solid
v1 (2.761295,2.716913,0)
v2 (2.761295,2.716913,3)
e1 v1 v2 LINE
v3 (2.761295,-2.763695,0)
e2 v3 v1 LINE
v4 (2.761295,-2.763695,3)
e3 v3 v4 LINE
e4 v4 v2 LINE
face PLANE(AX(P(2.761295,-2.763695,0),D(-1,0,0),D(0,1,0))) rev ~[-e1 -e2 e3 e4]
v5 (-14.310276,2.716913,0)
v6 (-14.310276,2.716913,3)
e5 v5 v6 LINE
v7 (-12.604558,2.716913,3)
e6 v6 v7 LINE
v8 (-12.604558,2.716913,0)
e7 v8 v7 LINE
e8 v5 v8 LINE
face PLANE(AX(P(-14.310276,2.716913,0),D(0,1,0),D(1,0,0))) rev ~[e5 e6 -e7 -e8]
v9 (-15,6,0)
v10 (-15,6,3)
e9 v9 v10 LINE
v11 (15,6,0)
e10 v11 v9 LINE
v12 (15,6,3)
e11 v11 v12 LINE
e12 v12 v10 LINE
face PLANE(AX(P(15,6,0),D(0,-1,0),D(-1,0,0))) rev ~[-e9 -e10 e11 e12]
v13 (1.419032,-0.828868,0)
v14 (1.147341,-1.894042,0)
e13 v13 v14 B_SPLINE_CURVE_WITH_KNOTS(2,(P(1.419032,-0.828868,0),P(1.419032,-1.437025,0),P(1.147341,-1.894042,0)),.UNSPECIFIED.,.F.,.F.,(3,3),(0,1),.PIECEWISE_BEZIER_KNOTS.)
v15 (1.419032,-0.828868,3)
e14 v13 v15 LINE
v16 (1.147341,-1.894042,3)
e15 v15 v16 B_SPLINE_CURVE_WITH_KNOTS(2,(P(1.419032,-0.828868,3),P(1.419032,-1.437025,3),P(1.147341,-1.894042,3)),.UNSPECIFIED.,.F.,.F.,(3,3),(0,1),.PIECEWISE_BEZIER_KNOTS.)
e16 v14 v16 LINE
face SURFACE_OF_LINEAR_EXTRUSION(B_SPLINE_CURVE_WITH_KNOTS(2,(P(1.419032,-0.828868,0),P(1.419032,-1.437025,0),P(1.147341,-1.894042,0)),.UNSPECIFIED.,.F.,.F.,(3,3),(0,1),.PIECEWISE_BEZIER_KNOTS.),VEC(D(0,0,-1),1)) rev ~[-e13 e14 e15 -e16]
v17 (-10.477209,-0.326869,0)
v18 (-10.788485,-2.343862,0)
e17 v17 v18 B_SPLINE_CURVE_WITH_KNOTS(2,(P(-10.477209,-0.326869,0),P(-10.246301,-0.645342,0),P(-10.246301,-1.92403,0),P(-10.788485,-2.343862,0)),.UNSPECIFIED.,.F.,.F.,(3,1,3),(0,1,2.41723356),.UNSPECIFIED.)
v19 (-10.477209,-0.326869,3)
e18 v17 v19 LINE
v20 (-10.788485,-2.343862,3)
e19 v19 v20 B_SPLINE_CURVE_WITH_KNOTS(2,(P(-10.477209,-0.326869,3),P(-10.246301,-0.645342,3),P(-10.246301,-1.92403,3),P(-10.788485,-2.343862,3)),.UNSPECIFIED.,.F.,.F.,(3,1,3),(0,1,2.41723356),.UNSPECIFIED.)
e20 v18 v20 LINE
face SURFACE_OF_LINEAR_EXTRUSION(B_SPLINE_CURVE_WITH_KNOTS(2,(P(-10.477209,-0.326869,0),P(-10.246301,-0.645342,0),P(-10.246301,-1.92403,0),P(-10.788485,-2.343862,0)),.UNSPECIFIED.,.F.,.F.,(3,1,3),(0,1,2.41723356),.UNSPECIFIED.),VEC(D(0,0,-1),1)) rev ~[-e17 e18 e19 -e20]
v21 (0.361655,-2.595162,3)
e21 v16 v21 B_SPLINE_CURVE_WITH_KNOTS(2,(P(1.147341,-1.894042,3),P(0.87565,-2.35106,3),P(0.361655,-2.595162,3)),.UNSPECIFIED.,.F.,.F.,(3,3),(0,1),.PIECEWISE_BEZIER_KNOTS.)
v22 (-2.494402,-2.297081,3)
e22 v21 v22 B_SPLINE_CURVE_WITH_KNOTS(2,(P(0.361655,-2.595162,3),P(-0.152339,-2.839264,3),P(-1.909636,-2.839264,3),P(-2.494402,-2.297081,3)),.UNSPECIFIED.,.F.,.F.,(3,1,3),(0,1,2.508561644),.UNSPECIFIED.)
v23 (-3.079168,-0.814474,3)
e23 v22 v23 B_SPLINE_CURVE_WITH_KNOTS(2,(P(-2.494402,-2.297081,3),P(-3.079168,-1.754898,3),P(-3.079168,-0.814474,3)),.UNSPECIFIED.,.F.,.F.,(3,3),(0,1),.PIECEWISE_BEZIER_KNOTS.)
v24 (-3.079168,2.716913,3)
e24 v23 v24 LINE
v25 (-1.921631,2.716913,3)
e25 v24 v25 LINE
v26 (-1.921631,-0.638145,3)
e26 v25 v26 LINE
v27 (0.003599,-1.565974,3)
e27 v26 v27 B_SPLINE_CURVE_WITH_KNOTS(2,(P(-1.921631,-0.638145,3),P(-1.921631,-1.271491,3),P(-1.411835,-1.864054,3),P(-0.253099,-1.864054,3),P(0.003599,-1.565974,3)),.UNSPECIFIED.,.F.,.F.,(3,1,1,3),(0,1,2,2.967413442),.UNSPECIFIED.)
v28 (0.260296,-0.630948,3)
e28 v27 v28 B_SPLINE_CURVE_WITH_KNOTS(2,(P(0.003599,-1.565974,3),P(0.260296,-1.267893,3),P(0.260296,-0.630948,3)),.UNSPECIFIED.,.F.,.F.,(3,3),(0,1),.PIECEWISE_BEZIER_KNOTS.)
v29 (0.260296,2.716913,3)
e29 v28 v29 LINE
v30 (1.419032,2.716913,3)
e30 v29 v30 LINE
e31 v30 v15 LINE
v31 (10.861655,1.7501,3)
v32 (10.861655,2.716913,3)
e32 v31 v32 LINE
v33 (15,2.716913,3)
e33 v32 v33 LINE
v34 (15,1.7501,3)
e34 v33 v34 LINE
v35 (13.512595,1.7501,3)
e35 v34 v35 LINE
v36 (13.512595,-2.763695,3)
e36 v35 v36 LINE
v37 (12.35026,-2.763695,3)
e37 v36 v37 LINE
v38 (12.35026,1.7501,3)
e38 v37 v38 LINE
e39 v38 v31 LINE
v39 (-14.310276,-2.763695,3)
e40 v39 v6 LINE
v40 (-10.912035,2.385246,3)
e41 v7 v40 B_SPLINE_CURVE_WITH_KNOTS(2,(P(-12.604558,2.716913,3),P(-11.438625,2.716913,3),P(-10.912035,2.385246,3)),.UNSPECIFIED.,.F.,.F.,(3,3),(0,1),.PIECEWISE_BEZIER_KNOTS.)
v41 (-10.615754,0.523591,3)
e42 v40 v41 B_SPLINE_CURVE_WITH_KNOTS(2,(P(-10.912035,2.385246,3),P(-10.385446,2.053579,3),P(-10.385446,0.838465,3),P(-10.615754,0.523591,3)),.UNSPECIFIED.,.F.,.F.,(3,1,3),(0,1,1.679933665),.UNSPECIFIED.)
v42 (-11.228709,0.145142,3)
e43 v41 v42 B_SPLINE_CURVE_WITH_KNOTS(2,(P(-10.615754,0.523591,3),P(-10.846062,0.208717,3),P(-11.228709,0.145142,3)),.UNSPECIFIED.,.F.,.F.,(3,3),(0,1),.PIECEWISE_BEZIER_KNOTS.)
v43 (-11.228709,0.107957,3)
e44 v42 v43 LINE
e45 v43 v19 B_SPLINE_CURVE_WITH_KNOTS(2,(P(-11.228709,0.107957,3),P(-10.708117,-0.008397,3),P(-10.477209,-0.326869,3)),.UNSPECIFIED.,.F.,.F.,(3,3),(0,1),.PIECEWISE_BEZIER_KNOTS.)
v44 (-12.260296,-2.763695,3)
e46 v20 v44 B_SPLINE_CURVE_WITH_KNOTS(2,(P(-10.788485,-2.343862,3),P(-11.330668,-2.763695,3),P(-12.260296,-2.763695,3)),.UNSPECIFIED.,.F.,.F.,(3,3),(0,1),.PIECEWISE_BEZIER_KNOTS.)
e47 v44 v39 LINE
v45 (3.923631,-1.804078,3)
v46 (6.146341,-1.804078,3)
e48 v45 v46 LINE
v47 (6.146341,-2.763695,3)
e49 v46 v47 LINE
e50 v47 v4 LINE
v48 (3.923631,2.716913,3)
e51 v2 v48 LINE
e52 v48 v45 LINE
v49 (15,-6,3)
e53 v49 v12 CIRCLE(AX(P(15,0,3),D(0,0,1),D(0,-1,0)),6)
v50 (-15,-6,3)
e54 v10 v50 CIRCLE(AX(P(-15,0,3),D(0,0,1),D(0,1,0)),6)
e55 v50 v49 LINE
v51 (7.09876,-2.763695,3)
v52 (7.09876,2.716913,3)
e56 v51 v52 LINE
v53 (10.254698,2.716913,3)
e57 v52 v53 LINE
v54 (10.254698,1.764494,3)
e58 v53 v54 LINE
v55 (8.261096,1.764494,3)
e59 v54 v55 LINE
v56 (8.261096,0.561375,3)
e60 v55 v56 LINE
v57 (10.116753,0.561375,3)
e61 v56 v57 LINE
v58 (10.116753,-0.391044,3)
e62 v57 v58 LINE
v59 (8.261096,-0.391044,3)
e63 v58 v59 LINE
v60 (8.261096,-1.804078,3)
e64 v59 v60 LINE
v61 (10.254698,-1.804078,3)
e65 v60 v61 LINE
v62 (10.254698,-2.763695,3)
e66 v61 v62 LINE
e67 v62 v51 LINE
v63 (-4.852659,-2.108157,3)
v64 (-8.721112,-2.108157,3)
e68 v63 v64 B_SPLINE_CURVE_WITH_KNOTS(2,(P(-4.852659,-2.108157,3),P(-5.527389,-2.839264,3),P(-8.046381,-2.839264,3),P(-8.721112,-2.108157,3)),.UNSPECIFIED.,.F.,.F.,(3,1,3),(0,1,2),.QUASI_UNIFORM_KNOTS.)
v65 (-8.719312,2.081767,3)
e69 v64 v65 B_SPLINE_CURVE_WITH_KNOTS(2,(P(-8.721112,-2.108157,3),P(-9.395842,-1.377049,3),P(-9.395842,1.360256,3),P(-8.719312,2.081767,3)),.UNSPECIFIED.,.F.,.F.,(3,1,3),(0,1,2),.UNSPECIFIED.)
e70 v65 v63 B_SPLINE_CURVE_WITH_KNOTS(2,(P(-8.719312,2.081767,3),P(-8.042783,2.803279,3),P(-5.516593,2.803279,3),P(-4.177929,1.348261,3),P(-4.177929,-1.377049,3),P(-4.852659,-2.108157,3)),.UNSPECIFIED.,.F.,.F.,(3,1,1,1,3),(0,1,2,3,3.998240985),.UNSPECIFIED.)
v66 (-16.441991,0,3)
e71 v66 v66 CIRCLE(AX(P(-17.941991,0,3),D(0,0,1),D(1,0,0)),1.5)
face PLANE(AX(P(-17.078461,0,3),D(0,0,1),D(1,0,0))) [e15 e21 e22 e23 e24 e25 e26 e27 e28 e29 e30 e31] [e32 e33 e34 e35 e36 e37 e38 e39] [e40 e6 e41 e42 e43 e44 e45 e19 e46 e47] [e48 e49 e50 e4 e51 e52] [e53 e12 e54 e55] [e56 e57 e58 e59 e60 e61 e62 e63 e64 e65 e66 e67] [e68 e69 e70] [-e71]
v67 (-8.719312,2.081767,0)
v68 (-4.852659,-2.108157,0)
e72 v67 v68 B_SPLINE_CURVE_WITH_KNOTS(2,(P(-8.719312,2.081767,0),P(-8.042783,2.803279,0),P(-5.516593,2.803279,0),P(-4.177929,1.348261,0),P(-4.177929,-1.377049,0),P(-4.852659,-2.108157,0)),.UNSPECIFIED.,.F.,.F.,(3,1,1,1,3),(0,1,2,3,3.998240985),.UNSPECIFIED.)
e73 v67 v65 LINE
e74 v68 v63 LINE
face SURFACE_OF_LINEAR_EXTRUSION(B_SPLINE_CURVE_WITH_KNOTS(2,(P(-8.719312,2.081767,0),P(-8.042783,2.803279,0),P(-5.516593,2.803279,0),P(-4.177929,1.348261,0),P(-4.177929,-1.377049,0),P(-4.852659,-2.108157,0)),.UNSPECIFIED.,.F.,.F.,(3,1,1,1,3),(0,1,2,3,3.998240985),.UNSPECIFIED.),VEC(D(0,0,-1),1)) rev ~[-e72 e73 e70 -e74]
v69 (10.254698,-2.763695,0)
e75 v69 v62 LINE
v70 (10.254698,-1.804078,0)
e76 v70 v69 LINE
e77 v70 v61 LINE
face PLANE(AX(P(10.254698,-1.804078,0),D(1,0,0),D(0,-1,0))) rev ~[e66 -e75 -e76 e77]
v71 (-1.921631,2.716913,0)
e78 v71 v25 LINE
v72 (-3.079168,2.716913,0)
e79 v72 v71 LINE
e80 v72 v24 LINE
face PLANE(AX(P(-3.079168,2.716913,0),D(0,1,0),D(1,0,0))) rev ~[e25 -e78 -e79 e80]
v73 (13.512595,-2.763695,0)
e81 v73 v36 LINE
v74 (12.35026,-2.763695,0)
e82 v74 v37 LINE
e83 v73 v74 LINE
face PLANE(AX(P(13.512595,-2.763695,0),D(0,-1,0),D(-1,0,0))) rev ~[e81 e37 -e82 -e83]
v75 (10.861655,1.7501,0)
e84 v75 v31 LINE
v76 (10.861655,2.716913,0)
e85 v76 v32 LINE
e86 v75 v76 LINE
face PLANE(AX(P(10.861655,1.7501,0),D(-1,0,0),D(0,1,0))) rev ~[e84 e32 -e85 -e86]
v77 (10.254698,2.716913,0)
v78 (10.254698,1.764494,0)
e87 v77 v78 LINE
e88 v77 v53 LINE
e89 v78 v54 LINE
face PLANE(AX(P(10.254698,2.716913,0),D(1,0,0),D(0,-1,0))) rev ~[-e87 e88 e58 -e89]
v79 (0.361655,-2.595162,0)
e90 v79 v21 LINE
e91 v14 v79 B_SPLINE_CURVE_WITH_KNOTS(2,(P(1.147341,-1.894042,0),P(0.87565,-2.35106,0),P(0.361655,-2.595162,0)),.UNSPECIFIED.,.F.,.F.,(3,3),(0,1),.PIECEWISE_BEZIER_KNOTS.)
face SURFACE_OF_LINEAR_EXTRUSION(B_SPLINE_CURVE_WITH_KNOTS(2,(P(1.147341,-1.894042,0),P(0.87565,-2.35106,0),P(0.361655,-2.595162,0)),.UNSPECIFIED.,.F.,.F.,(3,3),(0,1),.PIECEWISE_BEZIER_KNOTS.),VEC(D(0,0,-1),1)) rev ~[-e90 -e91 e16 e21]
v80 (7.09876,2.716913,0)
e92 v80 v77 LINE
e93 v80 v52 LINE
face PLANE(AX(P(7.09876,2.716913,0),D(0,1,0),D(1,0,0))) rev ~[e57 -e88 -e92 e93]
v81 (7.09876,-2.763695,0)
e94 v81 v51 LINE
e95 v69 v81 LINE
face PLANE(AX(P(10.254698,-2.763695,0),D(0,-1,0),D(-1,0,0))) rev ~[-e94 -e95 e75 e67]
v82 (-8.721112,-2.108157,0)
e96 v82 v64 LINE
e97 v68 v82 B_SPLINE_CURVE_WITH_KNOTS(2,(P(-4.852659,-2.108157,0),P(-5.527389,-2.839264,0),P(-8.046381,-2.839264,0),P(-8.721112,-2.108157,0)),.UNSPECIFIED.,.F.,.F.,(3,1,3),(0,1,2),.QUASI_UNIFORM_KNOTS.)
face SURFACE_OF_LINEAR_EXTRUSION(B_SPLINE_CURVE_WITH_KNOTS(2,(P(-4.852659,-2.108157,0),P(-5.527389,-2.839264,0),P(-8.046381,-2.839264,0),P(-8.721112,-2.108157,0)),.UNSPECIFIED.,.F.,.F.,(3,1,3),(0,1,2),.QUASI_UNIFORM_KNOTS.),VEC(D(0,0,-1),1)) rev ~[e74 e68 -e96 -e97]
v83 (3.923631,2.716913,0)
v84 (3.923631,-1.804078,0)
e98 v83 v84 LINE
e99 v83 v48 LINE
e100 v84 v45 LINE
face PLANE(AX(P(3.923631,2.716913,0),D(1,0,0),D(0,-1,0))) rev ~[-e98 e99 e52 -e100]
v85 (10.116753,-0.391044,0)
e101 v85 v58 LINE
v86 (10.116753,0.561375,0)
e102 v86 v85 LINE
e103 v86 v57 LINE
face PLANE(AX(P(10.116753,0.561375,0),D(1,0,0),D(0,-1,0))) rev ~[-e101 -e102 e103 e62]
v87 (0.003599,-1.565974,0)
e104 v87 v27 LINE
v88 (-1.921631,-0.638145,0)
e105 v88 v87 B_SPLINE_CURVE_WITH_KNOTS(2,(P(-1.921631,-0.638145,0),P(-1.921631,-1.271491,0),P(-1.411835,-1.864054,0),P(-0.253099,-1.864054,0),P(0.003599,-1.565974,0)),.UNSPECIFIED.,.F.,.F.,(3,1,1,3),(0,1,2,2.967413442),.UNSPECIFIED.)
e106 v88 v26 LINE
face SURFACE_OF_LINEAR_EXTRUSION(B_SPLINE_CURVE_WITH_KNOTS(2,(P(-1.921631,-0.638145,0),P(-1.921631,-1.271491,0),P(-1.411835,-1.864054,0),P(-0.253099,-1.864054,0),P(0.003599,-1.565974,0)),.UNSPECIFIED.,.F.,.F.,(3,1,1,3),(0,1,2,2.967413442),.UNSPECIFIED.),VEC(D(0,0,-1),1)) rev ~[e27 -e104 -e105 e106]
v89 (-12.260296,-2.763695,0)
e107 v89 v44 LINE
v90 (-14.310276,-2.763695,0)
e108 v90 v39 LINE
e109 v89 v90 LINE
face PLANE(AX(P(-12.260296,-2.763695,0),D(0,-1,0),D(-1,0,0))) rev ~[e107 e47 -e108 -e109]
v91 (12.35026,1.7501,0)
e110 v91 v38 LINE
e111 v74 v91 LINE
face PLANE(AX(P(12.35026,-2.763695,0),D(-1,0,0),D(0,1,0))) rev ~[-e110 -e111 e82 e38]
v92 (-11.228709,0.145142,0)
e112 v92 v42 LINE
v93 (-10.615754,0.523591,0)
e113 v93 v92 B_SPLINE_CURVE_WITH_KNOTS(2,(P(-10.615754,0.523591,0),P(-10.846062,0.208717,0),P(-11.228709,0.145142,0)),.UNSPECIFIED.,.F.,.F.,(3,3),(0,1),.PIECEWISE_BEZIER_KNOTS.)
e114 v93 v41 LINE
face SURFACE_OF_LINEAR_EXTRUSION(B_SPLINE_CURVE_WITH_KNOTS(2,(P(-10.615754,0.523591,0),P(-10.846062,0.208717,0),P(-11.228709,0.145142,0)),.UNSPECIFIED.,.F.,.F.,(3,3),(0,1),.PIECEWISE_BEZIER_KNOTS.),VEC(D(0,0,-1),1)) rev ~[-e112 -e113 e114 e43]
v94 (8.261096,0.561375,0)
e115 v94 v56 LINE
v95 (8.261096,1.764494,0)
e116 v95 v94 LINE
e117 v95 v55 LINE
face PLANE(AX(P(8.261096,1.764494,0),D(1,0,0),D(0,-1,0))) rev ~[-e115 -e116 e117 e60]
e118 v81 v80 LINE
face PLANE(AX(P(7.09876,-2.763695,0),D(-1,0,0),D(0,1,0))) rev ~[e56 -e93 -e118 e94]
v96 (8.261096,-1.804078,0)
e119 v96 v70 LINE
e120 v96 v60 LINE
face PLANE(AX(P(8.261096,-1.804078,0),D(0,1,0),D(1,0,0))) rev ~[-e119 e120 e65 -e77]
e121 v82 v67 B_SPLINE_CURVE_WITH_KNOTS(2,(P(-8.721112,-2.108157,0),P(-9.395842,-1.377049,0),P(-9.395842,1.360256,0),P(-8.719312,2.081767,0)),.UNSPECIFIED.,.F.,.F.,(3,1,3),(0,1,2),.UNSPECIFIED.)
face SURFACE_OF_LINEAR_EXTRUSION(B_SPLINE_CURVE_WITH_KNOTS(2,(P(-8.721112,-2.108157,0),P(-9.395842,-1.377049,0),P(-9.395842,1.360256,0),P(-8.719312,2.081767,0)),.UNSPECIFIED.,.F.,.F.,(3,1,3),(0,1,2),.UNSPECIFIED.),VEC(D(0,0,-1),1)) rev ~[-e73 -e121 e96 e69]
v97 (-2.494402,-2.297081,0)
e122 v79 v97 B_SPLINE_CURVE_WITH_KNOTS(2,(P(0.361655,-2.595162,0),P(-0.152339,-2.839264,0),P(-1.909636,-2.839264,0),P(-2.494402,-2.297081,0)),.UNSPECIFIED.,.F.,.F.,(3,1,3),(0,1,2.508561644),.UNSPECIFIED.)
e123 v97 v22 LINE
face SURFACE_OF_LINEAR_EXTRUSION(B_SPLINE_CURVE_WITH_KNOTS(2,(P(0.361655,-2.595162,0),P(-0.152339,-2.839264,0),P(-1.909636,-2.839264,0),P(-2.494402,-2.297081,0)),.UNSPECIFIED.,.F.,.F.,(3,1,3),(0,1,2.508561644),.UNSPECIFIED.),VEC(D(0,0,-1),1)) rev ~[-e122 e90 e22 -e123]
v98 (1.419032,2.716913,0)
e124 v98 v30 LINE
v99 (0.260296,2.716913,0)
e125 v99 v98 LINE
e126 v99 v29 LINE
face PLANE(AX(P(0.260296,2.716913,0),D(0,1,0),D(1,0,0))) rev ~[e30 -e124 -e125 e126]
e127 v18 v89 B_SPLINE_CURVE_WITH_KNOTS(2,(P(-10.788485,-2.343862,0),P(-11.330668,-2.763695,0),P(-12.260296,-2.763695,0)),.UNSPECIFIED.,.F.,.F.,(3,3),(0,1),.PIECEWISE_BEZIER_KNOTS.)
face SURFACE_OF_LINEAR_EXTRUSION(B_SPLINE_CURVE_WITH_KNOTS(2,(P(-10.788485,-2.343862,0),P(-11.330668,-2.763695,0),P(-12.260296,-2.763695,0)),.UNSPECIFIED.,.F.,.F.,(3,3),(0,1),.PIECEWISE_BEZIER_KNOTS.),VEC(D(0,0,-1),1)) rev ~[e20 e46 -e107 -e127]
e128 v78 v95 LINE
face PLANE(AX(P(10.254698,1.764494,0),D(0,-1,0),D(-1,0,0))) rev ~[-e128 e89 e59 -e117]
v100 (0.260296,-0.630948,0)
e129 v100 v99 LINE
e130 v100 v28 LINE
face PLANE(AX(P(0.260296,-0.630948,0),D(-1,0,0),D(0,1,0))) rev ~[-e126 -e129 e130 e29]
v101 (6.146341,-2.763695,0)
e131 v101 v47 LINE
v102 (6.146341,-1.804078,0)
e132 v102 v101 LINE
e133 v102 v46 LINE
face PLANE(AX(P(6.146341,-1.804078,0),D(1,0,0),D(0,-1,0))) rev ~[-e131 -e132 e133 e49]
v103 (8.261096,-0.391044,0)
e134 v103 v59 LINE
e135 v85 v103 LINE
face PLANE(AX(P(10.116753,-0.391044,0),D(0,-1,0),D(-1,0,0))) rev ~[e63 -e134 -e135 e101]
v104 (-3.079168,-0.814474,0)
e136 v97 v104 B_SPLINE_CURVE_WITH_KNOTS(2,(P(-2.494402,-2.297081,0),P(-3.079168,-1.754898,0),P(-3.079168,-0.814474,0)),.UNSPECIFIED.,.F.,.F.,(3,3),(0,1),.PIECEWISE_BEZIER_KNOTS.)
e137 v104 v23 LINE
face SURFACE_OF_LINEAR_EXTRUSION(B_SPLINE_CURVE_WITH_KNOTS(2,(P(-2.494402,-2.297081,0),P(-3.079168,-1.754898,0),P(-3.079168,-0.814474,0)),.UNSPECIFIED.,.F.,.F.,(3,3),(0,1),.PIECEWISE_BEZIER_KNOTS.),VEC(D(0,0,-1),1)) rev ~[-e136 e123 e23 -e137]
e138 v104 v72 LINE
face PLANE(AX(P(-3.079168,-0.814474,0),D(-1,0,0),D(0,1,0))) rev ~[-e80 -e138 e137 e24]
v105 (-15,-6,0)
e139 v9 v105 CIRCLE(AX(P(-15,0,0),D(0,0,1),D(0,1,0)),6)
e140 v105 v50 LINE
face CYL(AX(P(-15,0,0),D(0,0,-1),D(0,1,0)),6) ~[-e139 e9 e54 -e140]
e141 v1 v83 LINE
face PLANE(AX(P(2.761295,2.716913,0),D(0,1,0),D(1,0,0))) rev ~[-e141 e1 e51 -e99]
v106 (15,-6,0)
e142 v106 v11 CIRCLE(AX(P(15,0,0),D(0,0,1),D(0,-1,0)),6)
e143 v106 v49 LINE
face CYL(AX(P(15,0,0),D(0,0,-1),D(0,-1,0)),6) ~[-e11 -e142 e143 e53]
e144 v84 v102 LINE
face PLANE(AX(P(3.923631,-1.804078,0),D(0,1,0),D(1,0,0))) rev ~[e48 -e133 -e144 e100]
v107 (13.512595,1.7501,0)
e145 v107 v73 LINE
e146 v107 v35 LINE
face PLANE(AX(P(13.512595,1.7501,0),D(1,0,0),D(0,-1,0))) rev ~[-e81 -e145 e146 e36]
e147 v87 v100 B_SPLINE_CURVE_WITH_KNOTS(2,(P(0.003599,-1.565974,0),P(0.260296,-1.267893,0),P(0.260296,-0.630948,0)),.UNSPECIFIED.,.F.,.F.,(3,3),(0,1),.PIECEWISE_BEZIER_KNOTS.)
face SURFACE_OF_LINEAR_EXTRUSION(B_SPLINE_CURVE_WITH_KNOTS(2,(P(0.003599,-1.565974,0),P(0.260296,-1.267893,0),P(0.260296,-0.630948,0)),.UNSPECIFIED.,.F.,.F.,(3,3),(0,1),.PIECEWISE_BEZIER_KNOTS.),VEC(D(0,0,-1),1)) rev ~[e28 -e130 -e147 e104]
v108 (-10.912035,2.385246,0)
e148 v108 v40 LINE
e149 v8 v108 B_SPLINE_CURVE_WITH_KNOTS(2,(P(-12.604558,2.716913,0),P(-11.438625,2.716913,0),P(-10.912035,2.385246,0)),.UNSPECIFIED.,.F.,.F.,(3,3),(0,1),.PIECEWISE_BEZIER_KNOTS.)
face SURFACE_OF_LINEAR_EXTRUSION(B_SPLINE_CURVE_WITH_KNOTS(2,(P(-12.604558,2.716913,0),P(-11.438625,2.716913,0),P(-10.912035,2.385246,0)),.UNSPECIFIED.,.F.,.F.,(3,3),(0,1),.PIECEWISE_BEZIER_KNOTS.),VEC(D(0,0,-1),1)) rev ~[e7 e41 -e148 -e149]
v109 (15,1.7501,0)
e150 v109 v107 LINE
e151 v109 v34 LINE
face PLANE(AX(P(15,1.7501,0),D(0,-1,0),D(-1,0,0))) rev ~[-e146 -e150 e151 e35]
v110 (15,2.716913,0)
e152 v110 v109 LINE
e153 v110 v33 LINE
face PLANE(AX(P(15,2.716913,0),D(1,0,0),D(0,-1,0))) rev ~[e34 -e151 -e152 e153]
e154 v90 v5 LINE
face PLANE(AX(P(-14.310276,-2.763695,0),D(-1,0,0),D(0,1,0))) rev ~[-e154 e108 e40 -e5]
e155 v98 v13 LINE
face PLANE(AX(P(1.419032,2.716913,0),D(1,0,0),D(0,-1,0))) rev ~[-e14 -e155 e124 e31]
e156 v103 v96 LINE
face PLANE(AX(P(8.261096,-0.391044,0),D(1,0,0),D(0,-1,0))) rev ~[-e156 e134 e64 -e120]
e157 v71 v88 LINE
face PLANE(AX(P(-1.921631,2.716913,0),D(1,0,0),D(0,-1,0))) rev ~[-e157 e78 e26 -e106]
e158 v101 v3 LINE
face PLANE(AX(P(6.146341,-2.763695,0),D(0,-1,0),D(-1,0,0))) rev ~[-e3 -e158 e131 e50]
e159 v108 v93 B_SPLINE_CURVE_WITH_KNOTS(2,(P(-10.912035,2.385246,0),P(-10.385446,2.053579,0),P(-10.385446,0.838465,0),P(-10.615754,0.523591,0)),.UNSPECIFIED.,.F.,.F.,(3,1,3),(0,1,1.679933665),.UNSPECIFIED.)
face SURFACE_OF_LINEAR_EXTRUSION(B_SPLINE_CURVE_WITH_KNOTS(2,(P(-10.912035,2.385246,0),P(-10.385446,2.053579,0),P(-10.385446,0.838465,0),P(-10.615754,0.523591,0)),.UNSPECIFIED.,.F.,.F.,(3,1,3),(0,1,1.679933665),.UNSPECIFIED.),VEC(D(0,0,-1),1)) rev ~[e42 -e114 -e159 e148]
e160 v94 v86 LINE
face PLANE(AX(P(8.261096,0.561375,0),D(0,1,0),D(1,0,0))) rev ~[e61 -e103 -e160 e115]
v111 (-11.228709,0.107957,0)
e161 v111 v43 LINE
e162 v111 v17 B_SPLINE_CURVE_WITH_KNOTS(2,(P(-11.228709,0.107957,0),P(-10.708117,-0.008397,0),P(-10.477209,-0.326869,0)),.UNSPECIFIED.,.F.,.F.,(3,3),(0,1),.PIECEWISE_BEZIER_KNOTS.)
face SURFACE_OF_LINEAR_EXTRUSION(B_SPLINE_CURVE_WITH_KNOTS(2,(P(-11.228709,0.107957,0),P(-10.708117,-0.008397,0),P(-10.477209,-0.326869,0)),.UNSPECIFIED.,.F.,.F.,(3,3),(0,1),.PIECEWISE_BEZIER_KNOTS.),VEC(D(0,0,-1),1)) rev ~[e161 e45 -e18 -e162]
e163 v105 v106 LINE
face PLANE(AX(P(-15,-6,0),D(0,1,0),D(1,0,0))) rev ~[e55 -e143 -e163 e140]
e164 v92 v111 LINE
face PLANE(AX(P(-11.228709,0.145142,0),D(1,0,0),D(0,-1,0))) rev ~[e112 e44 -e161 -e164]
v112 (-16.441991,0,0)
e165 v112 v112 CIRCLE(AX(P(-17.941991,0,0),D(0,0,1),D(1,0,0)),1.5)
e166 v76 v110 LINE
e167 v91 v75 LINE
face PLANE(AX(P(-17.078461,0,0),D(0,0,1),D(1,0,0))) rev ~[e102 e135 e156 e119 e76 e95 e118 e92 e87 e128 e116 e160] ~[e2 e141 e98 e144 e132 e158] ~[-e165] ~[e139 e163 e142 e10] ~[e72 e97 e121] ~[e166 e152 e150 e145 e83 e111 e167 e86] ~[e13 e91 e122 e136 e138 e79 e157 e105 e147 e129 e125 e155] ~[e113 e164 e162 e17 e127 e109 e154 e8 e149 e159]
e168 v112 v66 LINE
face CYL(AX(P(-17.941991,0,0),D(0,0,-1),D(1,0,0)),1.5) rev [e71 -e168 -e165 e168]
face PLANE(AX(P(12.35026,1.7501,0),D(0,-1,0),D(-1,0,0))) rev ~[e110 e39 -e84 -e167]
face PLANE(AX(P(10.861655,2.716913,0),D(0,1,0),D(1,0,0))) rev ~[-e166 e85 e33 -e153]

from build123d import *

# Parameters (mm, degrees)
F0_R     = 1.5
F1_DEPTH = 3


with BuildPart() as f1:
    # F0 (on Top) → F1 (new body)
    with BuildSketch(Plane.XY):
        with BuildLine():
            Line((-15, -6), (-15, 6))
            ThreePointArc((-15, 6), (-21, 0), (-15, -6))
        make_face()
        with Locations((-17.9419908673, 0)):
            Circle(F0_R, mode=Mode.SUBTRACT)
        Polygon((15, 6), (-15, 6), (-15, -6), (15, -6), (15, 1.75009996), (13.512594962, 1.75009996), (13.512594962, -2.7636945222), (12.350259896, -2.7636945222), (12.350259896, 1.75009996), (10.8616553379, 1.75009996), (10.8616553379, 2.7169132347), (15, 2.7169132347), align=None)
        with BuildLine():
            Line((-14.3102758896, -2.7636945222), (-14.3102758896, 2.7169132347))
            Line((-14.3102758896, 2.7169132347), (-12.6045581767, 2.7169132347))
            add(Edge.make_bspline(
                [(-12.6045581767, 2.7169132347), (-11.4386245502, 2.7169132347), (-10.9120351859, 2.3852459016)],
                knots=[0, 0, 0, 1, 1, 1], degree=2))
            add(Edge.make_bspline(
                [(-10.9120351859, 2.3852459016), (-10.3854458217, 2.0535785686), (-10.3854458217, 1.3302678928)],
                knots=[0, 0, 0, 1, 1, 1], degree=2))
            add(Edge.make_bspline(
                [(-10.3854458217, 1.3302678928), (-10.3854458217, 0.8384646142), (-10.6157536985, 0.5235905638)],
                knots=[0, 0, 0, 1, 1, 1], degree=2))
            add(Edge.make_bspline(
                [(-10.6157536985, 0.5235905638), (-10.8460615754, 0.2087165134), (-11.2287085166, 0.1451419432)],
                knots=[0, 0, 0, 1, 1, 1], degree=2))
            Line((-11.2287085166, 0.1451419432), (-11.2287085166, 0.1079568173))
            add(Edge.make_bspline(
                [(-11.2287085166, 0.1079568173), (-10.7081167533, -0.0083966413), (-10.4772091164, -0.3268692523)],
                knots=[0, 0, 0, 1, 1, 1], degree=2))
            add(Edge.make_bspline(
                [(-10.4772091164, -0.3268692523), (-10.2463014794, -0.6453418633), (-10.2463014794, -1.1743302679)],
                knots=[0, 0, 0, 1, 1, 1], degree=2))
            add(Edge.make_bspline(
                [(-10.2463014794, -1.1743302679), (-10.2463014794, -1.9240303878), (-10.7884846062, -2.343862455)],
                knots=[0, 0, 0, 1, 1, 1], degree=2))
            add(Edge.make_bspline(
                [(-10.7884846062, -2.343862455), (-11.3306677329, -2.7636945222), (-12.2602958816, -2.7636945222)],
                knots=[0, 0, 0, 1, 1, 1], degree=2))
            Line((-12.2602958816, -2.7636945222), (-14.3102758896, -2.7636945222))
        make_face(mode=Mode.SUBTRACT)
        with BuildLine():
            add(Edge.make_bspline(
                [(-4.8472610956, 2.0757696921), (-4.1779288285, 1.3482606957), (-4.1779288285, -0.0155937625)],
                knots=[0, 0, 0, 1, 1, 1], degree=2))
            add(Edge.make_bspline(
                [(-4.1779288285, -0.0155937625), (-4.1779288285, -1.3770491803), (-4.8526589364, -2.1081567373)],
                knots=[0, 0, 0, 1, 1, 1], degree=2))
            add(Edge.make_bspline(
                [(-4.8526589364, -2.1081567373), (-5.5273890444, -2.8392642943), (-6.7868852459, -2.8392642943)],
                knots=[0, 0, 0, 1, 1, 1], degree=2))
            add(Edge.make_bspline(
                [(-6.7868852459, -2.8392642943), (-8.0463814474, -2.8392642943), (-8.7211115554, -2.1081567373)],
                knots=[0, 0, 0, 1, 1, 1], degree=2))
            add(Edge.make_bspline(
                [(-8.7211115554, -2.1081567373), (-9.3958416633, -1.3770491803), (-9.3958416633, -0.0083966413)],
                knots=[0, 0, 0, 1, 1, 1], degree=2))
            add(Edge.make_bspline(
                [(-9.3958416633, -0.0083966413), (-9.3958416633, 1.3602558976), (-8.7193122751, 2.0817672931)],
                knots=[0, 0, 0, 1, 1, 1], degree=2))
            add(Edge.make_bspline(
                [(-8.7193122751, 2.0817672931), (-8.0427828868, 2.8032786885), (-6.7796881248, 2.8032786885)],
                knots=[0, 0, 0, 1, 1, 1], degree=2))
            add(Edge.make_bspline(
                [(-6.7796881248, 2.8032786885), (-5.5165933627, 2.8032786885), (-4.8472610956, 2.0757696921)],
                knots=[0, 0, 0, 1, 1, 1], degree=2))
        make_face(mode=Mode.SUBTRACT)
        with BuildLine():
            Line((0.2602958816, 2.7169132347), (1.419032387, 2.7169132347))
            Line((1.419032387, 2.7169132347), (1.419032387, -0.8288684526))
            add(Edge.make_bspline(
                [(1.419032387, -0.8288684526), (1.419032387, -1.4370251899), (1.1473410636, -1.894042383)],
                knots=[0, 0, 0, 1, 1, 1], degree=2))
            add(Edge.make_bspline(
                [(1.1473410636, -1.894042383), (0.8756497401, -2.3510595762), (0.3616553379, -2.5951619352)],
                knots=[0, 0, 0, 1, 1, 1], degree=2))
            add(Edge.make_bspline(
                [(0.3616553379, -2.5951619352), (-0.1523390644, -2.8392642943), (-0.8528588565, -2.8392642943)],
                knots=[0, 0, 0, 1, 1, 1], degree=2))
            add(Edge.make_bspline(
                [(-0.8528588565, -2.8392642943), (-1.9096361455, -2.8392642943), (-2.4944022391, -2.2970811675)],
                knots=[0, 0, 0, 1, 1, 1], degree=2))
            add(Edge.make_bspline(
                [(-2.4944022391, -2.2970811675), (-3.0791683327, -1.7548980408), (-3.0791683327, -0.8144742103)],
                knots=[0, 0, 0, 1, 1, 1], degree=2))
            Line((-3.0791683327, -0.8144742103), (-3.0791683327, 2.7169132347))
            Line((-3.0791683327, 2.7169132347), (-1.9216313475, 2.7169132347))
            Line((-1.9216313475, 2.7169132347), (-1.9216313475, -0.6381447421))
            add(Edge.make_bspline(
                [(-1.9216313475, -0.6381447421), (-1.9216313475, -1.2714914034), (-1.6667333067, -1.5677728908)],
                knots=[0, 0, 0, 1, 1, 1], degree=2))
            add(Edge.make_bspline(
                [(-1.6667333067, -1.5677728908), (-1.4118352659, -1.8640543782), (-0.8228708517, -1.8640543782)],
                knots=[0, 0, 0, 1, 1, 1], degree=2))
            add(Edge.make_bspline(
                [(-0.8228708517, -1.8640543782), (-0.2530987605, -1.8640543782), (0.0035985606, -1.5659736106)],
                knots=[0, 0, 0, 1, 1, 1], degree=2))
            add(Edge.make_bspline(
                [(0.0035985606, -1.5659736106), (0.2602958816, -1.2678928429), (0.2602958816, -0.630947621)],
                knots=[0, 0, 0, 1, 1, 1], degree=2))
            Line((0.2602958816, -0.630947621), (0.2602958816, 2.7169132347))
        make_face(mode=Mode.SUBTRACT)
        Polygon((6.1463414634, -2.7636945222), (2.7612954818, -2.7636945222), (2.7612954818, 2.7169132347), (3.9236305478, 2.7169132347), (3.9236305478, -1.8040783687), (6.1463414634, -1.8040783687), align=None, mode=Mode.SUBTRACT)
        Polygon((10.2546981208, -1.8040783687), (10.2546981208, -2.7636945222), (7.0987604958, -2.7636945222), (7.0987604958, 2.7169132347), (10.2546981208, 2.7169132347), (10.2546981208, 1.7644942023), (8.2610955618, 1.7644942023), (8.2610955618, 0.5613754498), (10.1167532987, 0.5613754498), (10.1167532987, -0.3910435826), (8.2610955618, -0.3910435826), (8.2610955618, -1.8040783687), align=None, mode=Mode.SUBTRACT)
        with BuildLine():
            ThreePointArc((15, -6), (21, 0), (15, 6))
            Line((15, 6), (15, 2.7169132347))
            Line((15, 2.7169132347), (15, 1.75009996))
            Line((15, 1.75009996), (15, -6))
        make_face()
    extrude(amount=F1_DEPTH)


solid = f1.part
